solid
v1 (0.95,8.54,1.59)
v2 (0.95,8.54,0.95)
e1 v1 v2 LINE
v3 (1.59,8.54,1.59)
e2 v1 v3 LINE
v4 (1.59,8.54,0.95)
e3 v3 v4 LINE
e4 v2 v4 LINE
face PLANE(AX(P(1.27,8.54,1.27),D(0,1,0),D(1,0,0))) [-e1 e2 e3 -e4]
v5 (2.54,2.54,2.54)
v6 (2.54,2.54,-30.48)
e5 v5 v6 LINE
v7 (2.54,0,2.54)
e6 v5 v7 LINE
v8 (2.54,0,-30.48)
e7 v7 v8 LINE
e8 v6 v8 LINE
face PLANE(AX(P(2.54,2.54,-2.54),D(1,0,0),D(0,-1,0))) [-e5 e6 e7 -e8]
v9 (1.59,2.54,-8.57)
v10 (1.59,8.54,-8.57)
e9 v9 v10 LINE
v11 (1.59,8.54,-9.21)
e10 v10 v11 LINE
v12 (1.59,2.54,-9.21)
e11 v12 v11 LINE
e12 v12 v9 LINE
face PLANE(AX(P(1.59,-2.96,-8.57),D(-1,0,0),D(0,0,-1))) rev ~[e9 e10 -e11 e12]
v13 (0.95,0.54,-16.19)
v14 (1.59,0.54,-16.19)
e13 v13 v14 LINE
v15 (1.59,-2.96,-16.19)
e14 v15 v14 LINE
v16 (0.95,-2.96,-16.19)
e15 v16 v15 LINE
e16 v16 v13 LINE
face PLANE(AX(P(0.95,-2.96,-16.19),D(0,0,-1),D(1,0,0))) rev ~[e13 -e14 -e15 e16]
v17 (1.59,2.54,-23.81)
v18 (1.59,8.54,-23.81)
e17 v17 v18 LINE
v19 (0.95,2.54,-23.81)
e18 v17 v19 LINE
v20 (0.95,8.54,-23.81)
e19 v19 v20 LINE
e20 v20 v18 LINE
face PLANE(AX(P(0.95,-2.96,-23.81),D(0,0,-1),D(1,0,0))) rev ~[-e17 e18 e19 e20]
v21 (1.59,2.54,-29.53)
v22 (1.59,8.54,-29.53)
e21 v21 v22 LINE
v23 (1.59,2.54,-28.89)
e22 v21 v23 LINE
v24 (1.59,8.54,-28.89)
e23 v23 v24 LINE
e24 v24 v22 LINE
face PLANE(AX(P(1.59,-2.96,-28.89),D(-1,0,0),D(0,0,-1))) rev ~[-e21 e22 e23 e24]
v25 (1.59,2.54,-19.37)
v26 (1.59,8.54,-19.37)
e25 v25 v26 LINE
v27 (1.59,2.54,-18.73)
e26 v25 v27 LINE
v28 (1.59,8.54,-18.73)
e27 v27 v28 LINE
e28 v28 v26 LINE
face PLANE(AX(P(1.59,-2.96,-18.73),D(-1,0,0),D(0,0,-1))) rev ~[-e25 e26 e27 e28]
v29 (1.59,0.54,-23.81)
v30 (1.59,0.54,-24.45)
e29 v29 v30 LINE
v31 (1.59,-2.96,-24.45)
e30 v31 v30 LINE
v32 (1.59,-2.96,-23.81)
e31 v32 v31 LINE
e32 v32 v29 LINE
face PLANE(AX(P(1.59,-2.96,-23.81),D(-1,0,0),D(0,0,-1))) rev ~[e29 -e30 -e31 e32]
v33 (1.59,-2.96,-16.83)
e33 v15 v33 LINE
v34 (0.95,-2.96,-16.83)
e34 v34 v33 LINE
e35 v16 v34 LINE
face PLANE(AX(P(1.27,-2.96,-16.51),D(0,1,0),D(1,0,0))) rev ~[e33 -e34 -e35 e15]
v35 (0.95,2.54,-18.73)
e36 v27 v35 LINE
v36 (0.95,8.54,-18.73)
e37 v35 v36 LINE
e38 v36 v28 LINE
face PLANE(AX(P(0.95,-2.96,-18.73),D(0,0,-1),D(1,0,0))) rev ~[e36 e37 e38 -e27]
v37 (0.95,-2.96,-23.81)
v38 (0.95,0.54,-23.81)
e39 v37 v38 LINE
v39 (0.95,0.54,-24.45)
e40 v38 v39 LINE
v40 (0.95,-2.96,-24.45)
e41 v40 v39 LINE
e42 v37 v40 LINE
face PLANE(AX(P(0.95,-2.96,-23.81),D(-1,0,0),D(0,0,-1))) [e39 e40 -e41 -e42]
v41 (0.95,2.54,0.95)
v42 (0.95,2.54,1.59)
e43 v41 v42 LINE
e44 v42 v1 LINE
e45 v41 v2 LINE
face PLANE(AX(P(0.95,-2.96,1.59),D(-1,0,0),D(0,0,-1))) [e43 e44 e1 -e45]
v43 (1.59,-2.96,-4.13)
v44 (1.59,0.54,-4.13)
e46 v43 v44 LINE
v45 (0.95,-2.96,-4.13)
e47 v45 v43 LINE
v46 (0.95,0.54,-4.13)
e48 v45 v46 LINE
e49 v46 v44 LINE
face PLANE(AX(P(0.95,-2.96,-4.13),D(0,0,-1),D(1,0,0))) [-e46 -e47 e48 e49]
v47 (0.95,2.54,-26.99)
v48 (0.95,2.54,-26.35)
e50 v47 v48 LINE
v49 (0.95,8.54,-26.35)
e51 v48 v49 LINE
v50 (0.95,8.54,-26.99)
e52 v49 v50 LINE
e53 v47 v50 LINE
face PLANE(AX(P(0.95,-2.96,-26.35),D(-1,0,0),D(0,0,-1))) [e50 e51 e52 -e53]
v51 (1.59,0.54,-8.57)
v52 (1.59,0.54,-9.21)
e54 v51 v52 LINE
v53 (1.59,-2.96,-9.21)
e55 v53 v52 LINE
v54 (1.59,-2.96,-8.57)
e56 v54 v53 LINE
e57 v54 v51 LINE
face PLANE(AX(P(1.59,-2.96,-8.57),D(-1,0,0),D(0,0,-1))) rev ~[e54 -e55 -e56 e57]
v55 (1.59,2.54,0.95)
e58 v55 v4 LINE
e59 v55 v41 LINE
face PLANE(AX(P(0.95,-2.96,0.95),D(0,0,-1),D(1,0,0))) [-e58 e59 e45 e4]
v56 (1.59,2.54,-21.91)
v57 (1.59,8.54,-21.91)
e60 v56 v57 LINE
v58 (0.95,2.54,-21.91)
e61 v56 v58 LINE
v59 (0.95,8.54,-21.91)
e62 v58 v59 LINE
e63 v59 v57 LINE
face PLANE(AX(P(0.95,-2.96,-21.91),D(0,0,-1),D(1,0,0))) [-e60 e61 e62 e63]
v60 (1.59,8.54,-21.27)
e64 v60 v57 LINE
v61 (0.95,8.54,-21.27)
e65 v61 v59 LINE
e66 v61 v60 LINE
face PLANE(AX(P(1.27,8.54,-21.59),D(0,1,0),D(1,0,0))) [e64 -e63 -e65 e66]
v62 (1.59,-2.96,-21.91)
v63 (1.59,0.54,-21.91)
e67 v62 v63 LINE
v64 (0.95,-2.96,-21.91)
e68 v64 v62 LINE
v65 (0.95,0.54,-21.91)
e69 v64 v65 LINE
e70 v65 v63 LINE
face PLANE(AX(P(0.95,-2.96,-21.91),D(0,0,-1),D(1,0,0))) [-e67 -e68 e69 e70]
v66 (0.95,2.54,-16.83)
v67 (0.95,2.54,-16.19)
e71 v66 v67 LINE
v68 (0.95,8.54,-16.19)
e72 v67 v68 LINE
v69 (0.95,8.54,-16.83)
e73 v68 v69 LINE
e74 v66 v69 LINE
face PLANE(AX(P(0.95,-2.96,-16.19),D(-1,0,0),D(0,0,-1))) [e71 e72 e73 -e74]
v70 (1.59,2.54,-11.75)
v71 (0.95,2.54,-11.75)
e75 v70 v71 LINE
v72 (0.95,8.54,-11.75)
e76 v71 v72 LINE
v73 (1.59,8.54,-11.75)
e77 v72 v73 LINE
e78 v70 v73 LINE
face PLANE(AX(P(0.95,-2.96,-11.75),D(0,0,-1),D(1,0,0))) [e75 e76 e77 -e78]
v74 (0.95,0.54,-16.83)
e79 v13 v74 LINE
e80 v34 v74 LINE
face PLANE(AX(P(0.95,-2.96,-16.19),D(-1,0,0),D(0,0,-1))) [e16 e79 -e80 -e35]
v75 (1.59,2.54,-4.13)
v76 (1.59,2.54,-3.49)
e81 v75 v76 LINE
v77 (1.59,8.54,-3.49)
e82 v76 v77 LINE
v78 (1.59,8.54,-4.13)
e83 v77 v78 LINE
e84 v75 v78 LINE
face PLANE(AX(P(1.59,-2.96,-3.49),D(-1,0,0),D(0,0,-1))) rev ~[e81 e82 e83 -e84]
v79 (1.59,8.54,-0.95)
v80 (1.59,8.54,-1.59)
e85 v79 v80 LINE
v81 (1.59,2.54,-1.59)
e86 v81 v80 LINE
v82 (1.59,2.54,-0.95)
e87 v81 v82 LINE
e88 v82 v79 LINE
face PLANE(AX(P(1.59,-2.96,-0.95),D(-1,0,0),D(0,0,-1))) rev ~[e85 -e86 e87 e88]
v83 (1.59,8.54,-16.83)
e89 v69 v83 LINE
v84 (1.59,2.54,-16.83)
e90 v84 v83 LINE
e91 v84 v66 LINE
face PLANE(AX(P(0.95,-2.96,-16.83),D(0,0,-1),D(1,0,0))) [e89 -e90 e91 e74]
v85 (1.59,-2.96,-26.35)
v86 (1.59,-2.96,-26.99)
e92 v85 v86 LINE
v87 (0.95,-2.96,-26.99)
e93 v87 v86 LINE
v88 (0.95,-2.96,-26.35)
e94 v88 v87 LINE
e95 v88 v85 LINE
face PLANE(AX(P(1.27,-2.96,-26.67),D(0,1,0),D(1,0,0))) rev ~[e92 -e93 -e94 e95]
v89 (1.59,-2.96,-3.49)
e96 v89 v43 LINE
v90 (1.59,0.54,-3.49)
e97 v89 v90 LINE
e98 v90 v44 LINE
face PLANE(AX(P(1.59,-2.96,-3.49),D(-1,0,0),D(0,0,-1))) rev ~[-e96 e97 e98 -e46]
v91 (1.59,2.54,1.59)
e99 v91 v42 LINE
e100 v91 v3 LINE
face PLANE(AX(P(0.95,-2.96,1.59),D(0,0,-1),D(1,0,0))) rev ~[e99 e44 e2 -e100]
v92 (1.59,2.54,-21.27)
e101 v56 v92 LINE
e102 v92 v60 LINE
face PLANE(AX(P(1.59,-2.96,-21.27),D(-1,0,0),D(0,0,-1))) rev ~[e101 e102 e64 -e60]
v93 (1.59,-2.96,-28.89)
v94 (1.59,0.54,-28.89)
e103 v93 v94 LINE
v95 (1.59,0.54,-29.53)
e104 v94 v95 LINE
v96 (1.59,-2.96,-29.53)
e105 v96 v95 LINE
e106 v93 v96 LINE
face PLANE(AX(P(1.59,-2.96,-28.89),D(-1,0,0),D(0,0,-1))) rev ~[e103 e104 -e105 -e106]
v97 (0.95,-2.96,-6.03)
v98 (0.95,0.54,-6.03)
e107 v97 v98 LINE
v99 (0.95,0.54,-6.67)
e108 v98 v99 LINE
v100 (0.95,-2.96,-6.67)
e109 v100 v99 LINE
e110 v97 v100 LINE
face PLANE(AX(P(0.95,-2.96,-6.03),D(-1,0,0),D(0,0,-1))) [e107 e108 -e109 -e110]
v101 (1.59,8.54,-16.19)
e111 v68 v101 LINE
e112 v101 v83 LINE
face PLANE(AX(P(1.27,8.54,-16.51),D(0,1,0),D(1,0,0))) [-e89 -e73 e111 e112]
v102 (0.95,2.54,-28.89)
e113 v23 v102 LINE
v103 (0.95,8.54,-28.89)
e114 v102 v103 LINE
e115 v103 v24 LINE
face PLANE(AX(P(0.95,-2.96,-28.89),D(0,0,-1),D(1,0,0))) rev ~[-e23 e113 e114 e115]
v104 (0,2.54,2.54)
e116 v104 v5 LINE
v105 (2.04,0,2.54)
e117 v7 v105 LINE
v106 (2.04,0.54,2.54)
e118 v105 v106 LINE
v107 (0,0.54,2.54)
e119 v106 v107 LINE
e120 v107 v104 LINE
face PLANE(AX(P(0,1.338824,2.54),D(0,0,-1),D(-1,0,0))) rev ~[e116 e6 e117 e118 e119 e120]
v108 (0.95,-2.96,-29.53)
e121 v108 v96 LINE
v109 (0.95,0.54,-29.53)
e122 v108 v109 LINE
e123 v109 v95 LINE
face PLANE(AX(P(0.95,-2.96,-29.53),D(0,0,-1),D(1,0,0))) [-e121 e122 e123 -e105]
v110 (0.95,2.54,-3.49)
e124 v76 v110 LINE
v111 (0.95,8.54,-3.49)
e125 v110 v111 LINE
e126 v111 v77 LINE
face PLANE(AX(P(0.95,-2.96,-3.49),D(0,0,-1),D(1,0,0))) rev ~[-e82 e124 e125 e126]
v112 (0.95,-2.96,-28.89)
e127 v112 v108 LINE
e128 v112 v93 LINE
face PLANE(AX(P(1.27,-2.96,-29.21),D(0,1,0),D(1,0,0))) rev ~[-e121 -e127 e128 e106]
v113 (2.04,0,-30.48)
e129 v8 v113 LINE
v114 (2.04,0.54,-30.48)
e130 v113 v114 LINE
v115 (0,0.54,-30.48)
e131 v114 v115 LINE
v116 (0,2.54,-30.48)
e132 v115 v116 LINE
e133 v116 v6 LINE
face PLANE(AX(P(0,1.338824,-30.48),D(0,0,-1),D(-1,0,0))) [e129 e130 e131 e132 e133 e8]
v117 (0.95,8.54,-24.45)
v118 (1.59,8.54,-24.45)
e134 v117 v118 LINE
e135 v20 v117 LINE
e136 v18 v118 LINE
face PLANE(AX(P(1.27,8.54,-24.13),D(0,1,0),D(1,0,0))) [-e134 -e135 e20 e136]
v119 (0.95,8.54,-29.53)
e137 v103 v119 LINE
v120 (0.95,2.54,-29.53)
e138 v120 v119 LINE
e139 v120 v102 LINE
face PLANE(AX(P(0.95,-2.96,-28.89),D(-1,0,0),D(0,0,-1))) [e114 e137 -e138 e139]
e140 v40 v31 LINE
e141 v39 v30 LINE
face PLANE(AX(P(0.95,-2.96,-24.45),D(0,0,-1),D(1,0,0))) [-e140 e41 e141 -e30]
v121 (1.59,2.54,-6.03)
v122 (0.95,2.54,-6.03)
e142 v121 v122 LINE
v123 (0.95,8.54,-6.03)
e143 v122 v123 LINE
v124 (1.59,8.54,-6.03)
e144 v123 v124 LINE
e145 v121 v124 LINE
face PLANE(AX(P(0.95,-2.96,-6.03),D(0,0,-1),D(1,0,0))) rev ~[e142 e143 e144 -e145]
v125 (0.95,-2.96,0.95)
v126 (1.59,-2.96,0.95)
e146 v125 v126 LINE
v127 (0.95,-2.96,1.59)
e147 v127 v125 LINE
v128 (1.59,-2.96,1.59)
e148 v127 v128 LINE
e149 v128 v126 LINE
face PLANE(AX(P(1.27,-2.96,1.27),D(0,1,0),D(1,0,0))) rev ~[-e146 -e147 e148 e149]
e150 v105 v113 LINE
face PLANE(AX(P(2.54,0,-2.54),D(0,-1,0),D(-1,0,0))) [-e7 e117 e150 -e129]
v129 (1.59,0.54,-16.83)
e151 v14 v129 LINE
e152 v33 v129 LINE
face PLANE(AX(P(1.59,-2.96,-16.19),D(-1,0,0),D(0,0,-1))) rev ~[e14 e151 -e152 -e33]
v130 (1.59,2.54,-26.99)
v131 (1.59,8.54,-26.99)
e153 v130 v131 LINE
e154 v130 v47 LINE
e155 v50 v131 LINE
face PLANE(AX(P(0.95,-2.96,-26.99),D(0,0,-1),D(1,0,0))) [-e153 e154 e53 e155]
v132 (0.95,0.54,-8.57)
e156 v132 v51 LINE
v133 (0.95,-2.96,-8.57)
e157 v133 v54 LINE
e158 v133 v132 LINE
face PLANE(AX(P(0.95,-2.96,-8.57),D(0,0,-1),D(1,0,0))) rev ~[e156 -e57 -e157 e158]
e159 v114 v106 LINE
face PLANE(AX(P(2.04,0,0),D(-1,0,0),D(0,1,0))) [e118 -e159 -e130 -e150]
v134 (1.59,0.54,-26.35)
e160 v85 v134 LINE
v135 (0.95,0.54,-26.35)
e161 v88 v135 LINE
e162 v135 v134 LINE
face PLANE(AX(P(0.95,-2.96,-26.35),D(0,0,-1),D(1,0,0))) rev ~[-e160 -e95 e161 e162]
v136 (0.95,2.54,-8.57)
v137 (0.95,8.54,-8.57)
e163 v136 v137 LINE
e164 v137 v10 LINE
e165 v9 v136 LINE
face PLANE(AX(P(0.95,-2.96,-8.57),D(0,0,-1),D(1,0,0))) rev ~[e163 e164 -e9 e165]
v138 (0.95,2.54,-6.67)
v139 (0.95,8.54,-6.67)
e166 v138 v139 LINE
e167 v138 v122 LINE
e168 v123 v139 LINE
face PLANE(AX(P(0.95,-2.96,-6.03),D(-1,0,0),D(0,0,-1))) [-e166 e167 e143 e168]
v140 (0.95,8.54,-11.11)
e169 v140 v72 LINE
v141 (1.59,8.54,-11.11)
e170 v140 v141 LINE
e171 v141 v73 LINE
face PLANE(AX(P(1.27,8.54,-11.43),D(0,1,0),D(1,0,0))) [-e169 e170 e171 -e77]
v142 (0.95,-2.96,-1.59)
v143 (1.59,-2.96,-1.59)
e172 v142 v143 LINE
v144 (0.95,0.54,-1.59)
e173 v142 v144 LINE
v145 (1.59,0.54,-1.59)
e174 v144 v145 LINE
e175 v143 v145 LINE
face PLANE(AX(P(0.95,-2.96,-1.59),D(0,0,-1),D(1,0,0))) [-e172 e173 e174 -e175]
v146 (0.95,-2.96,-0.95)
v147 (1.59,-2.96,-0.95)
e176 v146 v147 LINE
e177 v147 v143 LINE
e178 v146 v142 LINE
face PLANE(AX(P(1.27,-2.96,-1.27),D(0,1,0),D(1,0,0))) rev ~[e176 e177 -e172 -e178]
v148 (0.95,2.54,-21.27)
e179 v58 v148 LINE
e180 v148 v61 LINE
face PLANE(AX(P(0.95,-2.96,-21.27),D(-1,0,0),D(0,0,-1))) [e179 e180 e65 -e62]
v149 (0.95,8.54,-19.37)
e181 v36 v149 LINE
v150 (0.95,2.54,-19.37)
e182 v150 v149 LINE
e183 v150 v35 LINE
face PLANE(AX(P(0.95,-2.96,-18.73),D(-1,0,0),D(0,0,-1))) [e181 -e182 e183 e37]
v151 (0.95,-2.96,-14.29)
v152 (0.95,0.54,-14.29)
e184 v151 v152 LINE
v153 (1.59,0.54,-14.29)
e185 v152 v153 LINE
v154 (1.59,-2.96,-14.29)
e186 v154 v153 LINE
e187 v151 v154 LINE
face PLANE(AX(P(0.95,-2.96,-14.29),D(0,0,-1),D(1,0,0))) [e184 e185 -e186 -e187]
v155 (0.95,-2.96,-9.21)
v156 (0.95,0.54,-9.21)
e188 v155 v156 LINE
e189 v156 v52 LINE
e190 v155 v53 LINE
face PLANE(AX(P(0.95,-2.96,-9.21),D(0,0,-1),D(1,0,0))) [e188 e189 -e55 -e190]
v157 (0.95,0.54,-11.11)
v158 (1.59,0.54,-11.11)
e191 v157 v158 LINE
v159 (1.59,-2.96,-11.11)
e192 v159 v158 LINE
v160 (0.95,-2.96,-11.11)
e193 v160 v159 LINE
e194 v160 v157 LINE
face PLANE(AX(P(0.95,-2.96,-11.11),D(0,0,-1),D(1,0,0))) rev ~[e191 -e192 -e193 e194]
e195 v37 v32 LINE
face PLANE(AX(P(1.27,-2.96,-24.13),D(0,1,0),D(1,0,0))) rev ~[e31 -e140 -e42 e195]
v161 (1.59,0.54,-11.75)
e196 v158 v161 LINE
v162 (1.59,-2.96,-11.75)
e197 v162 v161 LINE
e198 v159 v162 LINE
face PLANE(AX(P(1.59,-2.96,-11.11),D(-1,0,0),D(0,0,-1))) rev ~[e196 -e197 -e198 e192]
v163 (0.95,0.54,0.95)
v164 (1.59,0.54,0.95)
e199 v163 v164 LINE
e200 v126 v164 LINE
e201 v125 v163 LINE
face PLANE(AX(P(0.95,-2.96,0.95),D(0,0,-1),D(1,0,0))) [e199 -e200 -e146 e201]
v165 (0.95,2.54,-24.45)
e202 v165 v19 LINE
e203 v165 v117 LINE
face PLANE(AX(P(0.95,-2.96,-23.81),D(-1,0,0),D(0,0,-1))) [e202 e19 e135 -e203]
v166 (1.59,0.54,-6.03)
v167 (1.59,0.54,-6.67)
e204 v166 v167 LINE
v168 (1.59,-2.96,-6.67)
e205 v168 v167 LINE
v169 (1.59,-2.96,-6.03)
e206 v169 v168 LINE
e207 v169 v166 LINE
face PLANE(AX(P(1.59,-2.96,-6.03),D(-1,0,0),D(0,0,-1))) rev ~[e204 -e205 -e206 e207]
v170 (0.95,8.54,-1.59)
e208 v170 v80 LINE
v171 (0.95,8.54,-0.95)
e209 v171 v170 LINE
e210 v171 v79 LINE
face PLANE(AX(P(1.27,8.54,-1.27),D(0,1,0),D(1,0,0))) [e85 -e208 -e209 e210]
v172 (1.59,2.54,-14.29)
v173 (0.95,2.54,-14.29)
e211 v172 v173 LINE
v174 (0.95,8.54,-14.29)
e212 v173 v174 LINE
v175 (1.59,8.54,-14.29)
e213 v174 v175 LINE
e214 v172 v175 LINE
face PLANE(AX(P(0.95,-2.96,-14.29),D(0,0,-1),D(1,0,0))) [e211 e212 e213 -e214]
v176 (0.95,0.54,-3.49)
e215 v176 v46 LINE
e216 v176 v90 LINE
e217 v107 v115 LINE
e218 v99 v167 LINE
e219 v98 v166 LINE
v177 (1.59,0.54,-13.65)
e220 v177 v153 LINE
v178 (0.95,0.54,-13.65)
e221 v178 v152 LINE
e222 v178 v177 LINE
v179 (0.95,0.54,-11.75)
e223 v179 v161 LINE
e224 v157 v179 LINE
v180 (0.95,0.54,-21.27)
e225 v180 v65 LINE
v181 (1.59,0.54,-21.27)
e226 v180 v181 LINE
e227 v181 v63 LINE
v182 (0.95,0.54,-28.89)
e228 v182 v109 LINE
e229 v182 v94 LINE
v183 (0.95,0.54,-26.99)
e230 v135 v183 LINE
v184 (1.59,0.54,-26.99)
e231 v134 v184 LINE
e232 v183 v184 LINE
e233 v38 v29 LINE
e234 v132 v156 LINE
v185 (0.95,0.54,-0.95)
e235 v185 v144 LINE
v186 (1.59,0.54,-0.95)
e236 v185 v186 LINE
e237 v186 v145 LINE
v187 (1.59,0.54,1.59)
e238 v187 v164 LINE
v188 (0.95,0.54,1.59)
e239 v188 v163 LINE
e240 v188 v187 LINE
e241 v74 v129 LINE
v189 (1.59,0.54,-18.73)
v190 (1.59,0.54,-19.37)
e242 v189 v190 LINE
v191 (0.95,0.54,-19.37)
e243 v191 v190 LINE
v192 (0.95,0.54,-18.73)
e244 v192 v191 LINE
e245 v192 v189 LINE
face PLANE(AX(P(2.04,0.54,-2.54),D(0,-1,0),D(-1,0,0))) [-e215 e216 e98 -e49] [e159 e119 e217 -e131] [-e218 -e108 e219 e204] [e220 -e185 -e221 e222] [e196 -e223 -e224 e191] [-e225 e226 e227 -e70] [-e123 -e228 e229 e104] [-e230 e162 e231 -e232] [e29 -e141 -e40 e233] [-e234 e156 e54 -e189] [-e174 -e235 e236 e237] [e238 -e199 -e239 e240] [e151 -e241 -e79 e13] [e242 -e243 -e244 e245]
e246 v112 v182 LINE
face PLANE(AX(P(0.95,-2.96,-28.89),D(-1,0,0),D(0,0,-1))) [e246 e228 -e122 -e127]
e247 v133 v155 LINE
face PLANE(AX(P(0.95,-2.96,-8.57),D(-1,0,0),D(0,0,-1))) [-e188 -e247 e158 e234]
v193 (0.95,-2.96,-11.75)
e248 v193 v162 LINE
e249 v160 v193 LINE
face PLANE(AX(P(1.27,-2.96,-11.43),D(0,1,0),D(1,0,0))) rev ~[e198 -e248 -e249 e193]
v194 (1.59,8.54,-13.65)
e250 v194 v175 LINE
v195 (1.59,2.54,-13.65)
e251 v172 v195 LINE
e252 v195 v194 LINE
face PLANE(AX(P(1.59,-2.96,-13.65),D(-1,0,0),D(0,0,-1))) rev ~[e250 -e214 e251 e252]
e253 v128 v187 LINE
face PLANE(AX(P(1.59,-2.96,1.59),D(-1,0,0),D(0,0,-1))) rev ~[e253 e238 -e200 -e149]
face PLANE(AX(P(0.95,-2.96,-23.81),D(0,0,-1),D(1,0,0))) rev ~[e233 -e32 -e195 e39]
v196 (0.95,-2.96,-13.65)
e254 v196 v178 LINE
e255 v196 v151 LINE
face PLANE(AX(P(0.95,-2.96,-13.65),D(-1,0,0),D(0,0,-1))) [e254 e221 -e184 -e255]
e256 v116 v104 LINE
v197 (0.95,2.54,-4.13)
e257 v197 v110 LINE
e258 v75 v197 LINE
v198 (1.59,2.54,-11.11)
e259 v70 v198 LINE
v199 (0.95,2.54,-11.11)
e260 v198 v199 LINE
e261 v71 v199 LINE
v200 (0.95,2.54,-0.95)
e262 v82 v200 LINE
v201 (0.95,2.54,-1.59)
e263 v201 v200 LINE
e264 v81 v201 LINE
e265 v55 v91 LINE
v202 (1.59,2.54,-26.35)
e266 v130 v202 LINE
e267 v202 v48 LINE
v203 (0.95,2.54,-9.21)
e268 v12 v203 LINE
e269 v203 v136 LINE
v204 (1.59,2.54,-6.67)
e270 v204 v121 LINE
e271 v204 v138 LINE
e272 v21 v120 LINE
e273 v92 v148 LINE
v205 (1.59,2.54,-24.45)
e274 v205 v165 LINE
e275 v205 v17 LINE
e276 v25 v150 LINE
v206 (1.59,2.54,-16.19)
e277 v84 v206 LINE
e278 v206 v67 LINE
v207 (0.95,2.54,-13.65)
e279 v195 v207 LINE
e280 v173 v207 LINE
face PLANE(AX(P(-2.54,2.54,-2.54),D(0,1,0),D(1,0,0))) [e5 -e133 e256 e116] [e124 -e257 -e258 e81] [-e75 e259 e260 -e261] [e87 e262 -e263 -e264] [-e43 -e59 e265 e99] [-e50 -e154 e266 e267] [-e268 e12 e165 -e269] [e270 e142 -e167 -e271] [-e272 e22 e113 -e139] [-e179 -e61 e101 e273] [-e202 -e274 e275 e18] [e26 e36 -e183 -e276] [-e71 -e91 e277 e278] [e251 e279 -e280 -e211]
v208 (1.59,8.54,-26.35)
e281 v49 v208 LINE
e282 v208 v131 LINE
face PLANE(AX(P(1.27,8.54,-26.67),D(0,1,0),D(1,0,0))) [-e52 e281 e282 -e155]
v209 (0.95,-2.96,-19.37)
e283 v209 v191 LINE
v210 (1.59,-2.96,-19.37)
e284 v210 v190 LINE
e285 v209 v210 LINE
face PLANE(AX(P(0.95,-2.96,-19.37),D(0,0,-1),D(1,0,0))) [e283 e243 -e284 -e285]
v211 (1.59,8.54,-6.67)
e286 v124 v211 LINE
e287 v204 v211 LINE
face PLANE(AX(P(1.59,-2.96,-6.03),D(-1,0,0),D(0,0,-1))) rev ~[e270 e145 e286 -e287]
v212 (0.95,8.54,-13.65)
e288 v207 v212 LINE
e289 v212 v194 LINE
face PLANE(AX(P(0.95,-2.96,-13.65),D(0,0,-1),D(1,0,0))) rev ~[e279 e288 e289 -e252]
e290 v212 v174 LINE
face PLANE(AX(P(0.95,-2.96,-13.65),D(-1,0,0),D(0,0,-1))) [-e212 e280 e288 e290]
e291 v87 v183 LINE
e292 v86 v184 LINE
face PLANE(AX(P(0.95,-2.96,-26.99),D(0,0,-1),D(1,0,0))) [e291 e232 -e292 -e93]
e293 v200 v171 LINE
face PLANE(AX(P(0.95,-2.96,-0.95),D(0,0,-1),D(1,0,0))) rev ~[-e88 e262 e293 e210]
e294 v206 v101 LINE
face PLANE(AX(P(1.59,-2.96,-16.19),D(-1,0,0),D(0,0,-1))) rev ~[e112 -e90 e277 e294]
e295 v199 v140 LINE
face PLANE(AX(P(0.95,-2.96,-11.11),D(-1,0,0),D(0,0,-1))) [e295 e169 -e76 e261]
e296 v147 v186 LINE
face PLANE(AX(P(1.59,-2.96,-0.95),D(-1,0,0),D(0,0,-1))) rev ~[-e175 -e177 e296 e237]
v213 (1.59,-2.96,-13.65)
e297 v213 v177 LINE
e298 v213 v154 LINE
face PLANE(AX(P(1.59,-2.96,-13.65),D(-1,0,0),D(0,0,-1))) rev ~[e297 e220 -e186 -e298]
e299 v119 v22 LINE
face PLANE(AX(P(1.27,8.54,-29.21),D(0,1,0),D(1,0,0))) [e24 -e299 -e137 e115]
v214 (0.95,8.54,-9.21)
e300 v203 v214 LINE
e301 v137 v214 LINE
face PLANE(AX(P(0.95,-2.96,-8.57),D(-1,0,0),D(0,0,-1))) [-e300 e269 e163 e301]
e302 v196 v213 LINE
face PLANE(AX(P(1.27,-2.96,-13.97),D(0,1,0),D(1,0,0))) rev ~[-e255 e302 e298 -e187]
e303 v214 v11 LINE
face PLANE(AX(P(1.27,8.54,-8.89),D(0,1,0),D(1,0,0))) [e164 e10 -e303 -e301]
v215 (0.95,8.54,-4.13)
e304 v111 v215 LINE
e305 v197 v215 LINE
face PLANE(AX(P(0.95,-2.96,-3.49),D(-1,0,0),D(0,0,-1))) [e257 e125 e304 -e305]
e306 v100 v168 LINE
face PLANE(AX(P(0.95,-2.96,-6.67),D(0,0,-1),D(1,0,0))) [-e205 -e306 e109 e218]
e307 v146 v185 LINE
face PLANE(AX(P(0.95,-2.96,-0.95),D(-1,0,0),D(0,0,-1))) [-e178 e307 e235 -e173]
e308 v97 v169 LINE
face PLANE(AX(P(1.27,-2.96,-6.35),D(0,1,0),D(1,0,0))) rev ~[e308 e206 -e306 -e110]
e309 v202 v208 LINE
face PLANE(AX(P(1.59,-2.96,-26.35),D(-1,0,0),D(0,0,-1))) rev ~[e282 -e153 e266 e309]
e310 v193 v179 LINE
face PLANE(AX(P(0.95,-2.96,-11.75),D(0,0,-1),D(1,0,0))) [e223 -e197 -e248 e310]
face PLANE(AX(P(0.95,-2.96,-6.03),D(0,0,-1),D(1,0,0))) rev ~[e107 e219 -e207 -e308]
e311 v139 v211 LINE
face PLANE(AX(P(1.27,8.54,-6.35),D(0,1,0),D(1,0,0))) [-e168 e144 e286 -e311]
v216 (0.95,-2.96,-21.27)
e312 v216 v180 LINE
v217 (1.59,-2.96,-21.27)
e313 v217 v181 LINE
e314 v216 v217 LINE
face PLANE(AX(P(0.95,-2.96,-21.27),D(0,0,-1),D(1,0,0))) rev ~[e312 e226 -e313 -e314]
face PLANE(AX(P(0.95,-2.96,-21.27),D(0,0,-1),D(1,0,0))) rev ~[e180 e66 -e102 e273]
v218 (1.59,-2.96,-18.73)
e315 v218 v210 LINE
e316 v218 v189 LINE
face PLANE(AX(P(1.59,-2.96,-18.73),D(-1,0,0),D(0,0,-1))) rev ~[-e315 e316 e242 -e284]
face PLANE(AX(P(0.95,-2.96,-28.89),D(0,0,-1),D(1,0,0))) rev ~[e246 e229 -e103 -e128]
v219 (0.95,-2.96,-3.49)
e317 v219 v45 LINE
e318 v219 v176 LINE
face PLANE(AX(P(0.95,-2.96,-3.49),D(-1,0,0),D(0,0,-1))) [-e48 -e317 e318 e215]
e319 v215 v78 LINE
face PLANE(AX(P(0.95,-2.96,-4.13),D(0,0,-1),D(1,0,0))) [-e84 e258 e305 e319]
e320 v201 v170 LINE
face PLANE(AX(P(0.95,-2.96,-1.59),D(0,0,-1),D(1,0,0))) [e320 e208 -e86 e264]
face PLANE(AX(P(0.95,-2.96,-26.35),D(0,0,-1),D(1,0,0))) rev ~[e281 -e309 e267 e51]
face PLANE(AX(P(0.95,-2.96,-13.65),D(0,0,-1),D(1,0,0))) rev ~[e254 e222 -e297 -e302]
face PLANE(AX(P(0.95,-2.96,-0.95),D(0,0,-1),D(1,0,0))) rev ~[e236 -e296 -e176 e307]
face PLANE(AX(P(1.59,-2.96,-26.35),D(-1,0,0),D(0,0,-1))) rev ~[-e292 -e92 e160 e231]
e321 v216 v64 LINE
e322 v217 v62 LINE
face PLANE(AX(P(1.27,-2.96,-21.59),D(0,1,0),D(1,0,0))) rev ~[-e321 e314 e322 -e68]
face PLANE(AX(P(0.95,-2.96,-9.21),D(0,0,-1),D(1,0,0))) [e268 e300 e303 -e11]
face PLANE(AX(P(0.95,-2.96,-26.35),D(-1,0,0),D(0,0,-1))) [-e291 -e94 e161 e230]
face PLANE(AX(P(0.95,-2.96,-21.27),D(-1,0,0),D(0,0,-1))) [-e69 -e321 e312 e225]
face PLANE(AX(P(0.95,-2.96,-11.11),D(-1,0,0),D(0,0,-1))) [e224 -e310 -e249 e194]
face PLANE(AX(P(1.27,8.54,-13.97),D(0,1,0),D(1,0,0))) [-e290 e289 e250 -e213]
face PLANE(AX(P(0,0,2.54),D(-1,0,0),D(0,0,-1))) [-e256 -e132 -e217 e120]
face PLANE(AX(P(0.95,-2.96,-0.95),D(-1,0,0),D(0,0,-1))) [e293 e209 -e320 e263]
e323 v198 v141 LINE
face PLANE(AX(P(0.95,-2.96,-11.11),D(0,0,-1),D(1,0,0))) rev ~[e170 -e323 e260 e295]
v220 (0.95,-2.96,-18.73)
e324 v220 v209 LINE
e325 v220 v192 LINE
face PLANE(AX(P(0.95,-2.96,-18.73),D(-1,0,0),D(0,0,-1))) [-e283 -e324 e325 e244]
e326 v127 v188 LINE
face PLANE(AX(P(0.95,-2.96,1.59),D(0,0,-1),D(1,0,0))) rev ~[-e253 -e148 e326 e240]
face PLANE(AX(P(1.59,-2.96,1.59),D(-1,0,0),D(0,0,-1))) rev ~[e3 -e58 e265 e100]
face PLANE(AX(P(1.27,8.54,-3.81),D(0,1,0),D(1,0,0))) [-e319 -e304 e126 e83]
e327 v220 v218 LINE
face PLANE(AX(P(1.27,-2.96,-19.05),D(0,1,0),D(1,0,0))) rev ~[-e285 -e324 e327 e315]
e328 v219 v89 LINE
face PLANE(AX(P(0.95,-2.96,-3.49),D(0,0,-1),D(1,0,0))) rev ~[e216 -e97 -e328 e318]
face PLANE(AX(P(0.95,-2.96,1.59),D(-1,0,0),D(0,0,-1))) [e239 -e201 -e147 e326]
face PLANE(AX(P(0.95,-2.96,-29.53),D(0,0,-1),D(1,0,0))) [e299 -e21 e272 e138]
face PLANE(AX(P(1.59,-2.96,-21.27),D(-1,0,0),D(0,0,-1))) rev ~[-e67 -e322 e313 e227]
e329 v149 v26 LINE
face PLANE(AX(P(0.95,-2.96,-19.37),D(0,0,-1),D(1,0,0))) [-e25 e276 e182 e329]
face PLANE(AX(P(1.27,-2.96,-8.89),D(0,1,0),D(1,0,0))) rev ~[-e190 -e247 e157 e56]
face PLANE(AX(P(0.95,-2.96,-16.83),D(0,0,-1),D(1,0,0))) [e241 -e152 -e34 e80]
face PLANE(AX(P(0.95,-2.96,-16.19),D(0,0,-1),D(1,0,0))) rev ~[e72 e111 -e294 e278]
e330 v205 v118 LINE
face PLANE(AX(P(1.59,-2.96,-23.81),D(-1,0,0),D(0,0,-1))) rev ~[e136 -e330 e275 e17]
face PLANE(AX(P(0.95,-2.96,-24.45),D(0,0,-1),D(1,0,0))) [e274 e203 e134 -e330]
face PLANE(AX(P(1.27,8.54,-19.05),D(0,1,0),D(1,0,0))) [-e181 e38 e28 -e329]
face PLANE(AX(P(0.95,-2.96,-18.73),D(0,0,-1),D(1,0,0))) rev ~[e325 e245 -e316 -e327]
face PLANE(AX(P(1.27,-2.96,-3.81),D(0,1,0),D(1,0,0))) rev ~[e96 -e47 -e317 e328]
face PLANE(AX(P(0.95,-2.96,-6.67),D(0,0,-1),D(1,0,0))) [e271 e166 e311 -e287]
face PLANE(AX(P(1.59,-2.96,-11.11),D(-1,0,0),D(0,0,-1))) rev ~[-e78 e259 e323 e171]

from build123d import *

# Parameters (mm, degrees)
EXTRUDE_1_DEPTH            = 2.54
EXTRUDE_START              = -5.5
SKETCH_2_W                 = 0.64
SKETCH_2_H                 = 0.64
EXTRUDE_2_DEPTH            = 11.5
PATTERN_LINEAR_27_COUNT    = 13
PATTERN_LINEAR_27_PITCH    = 2.54
CROQUIS1_W                 = 6.114803871
CROQUIS1_H                 = 33.02
CORTAR_EXTRUIR1_DEPTH      = 9.54
CORTAR_EXTRUIR1_DEPTH_BACK = 3.96


with BuildPart() as part:
    # Эскиз1 → Бобышка-Вытянуть1 (new body)
    with BuildSketch(Plane.XY):
        Polygon((-2.54, 0), (-2.54, 2.54), (2.54, 2.54), (2.54, 0), (2.04, 0), (2.04, 0.54), (-2.04, 0.54), (-2.04, 0), align=None)
    extrude_1 = extrude(amount=EXTRUDE_1_DEPTH)

    # Эскиз2 → Бобышка-Вытянуть2 (add)
    with BuildSketch(Plane(origin=(0, 2.54, 0), x_dir=(1, 0, 0), z_dir=(0, 1, 0)).offset(EXTRUDE_START)):
        with Locations((-1.27, -1.27)):
            Rectangle(SKETCH_2_W, SKETCH_2_H)
        with Locations((1.27, -1.27)):
            Rectangle(SKETCH_2_W, SKETCH_2_H)
    extrude_2 = extrude(amount=EXTRUDE_2_DEPTH)

    # Линейный массив27: Бобышка-Вытянуть1, Бобышка-Вытянуть2 ×13
    with Locations(*[(0, 0, -i * PATTERN_LINEAR_27_PITCH) for i in range(1, PATTERN_LINEAR_27_COUNT)]):
        add(extrude_1)
        add(extrude_2)

    # Croquis1 → Cortar-Extruir1 (cut, two sides)
    with BuildSketch(Plane(origin=(0, 0, 0), x_dir=(1, 0, 0), z_dir=(0, 1, 0))) as cortar_extruir1_sk:
        with Locations((-3.057401936, 13.97)):
            Rectangle(CROQUIS1_W, CROQUIS1_H)
    extrude(amount=CORTAR_EXTRUIR1_DEPTH, mode=Mode.SUBTRACT)
    extrude(cortar_extruir1_sk.sketch, amount=-CORTAR_EXTRUIR1_DEPTH_BACK, mode=Mode.SUBTRACT)


solid = part.part
